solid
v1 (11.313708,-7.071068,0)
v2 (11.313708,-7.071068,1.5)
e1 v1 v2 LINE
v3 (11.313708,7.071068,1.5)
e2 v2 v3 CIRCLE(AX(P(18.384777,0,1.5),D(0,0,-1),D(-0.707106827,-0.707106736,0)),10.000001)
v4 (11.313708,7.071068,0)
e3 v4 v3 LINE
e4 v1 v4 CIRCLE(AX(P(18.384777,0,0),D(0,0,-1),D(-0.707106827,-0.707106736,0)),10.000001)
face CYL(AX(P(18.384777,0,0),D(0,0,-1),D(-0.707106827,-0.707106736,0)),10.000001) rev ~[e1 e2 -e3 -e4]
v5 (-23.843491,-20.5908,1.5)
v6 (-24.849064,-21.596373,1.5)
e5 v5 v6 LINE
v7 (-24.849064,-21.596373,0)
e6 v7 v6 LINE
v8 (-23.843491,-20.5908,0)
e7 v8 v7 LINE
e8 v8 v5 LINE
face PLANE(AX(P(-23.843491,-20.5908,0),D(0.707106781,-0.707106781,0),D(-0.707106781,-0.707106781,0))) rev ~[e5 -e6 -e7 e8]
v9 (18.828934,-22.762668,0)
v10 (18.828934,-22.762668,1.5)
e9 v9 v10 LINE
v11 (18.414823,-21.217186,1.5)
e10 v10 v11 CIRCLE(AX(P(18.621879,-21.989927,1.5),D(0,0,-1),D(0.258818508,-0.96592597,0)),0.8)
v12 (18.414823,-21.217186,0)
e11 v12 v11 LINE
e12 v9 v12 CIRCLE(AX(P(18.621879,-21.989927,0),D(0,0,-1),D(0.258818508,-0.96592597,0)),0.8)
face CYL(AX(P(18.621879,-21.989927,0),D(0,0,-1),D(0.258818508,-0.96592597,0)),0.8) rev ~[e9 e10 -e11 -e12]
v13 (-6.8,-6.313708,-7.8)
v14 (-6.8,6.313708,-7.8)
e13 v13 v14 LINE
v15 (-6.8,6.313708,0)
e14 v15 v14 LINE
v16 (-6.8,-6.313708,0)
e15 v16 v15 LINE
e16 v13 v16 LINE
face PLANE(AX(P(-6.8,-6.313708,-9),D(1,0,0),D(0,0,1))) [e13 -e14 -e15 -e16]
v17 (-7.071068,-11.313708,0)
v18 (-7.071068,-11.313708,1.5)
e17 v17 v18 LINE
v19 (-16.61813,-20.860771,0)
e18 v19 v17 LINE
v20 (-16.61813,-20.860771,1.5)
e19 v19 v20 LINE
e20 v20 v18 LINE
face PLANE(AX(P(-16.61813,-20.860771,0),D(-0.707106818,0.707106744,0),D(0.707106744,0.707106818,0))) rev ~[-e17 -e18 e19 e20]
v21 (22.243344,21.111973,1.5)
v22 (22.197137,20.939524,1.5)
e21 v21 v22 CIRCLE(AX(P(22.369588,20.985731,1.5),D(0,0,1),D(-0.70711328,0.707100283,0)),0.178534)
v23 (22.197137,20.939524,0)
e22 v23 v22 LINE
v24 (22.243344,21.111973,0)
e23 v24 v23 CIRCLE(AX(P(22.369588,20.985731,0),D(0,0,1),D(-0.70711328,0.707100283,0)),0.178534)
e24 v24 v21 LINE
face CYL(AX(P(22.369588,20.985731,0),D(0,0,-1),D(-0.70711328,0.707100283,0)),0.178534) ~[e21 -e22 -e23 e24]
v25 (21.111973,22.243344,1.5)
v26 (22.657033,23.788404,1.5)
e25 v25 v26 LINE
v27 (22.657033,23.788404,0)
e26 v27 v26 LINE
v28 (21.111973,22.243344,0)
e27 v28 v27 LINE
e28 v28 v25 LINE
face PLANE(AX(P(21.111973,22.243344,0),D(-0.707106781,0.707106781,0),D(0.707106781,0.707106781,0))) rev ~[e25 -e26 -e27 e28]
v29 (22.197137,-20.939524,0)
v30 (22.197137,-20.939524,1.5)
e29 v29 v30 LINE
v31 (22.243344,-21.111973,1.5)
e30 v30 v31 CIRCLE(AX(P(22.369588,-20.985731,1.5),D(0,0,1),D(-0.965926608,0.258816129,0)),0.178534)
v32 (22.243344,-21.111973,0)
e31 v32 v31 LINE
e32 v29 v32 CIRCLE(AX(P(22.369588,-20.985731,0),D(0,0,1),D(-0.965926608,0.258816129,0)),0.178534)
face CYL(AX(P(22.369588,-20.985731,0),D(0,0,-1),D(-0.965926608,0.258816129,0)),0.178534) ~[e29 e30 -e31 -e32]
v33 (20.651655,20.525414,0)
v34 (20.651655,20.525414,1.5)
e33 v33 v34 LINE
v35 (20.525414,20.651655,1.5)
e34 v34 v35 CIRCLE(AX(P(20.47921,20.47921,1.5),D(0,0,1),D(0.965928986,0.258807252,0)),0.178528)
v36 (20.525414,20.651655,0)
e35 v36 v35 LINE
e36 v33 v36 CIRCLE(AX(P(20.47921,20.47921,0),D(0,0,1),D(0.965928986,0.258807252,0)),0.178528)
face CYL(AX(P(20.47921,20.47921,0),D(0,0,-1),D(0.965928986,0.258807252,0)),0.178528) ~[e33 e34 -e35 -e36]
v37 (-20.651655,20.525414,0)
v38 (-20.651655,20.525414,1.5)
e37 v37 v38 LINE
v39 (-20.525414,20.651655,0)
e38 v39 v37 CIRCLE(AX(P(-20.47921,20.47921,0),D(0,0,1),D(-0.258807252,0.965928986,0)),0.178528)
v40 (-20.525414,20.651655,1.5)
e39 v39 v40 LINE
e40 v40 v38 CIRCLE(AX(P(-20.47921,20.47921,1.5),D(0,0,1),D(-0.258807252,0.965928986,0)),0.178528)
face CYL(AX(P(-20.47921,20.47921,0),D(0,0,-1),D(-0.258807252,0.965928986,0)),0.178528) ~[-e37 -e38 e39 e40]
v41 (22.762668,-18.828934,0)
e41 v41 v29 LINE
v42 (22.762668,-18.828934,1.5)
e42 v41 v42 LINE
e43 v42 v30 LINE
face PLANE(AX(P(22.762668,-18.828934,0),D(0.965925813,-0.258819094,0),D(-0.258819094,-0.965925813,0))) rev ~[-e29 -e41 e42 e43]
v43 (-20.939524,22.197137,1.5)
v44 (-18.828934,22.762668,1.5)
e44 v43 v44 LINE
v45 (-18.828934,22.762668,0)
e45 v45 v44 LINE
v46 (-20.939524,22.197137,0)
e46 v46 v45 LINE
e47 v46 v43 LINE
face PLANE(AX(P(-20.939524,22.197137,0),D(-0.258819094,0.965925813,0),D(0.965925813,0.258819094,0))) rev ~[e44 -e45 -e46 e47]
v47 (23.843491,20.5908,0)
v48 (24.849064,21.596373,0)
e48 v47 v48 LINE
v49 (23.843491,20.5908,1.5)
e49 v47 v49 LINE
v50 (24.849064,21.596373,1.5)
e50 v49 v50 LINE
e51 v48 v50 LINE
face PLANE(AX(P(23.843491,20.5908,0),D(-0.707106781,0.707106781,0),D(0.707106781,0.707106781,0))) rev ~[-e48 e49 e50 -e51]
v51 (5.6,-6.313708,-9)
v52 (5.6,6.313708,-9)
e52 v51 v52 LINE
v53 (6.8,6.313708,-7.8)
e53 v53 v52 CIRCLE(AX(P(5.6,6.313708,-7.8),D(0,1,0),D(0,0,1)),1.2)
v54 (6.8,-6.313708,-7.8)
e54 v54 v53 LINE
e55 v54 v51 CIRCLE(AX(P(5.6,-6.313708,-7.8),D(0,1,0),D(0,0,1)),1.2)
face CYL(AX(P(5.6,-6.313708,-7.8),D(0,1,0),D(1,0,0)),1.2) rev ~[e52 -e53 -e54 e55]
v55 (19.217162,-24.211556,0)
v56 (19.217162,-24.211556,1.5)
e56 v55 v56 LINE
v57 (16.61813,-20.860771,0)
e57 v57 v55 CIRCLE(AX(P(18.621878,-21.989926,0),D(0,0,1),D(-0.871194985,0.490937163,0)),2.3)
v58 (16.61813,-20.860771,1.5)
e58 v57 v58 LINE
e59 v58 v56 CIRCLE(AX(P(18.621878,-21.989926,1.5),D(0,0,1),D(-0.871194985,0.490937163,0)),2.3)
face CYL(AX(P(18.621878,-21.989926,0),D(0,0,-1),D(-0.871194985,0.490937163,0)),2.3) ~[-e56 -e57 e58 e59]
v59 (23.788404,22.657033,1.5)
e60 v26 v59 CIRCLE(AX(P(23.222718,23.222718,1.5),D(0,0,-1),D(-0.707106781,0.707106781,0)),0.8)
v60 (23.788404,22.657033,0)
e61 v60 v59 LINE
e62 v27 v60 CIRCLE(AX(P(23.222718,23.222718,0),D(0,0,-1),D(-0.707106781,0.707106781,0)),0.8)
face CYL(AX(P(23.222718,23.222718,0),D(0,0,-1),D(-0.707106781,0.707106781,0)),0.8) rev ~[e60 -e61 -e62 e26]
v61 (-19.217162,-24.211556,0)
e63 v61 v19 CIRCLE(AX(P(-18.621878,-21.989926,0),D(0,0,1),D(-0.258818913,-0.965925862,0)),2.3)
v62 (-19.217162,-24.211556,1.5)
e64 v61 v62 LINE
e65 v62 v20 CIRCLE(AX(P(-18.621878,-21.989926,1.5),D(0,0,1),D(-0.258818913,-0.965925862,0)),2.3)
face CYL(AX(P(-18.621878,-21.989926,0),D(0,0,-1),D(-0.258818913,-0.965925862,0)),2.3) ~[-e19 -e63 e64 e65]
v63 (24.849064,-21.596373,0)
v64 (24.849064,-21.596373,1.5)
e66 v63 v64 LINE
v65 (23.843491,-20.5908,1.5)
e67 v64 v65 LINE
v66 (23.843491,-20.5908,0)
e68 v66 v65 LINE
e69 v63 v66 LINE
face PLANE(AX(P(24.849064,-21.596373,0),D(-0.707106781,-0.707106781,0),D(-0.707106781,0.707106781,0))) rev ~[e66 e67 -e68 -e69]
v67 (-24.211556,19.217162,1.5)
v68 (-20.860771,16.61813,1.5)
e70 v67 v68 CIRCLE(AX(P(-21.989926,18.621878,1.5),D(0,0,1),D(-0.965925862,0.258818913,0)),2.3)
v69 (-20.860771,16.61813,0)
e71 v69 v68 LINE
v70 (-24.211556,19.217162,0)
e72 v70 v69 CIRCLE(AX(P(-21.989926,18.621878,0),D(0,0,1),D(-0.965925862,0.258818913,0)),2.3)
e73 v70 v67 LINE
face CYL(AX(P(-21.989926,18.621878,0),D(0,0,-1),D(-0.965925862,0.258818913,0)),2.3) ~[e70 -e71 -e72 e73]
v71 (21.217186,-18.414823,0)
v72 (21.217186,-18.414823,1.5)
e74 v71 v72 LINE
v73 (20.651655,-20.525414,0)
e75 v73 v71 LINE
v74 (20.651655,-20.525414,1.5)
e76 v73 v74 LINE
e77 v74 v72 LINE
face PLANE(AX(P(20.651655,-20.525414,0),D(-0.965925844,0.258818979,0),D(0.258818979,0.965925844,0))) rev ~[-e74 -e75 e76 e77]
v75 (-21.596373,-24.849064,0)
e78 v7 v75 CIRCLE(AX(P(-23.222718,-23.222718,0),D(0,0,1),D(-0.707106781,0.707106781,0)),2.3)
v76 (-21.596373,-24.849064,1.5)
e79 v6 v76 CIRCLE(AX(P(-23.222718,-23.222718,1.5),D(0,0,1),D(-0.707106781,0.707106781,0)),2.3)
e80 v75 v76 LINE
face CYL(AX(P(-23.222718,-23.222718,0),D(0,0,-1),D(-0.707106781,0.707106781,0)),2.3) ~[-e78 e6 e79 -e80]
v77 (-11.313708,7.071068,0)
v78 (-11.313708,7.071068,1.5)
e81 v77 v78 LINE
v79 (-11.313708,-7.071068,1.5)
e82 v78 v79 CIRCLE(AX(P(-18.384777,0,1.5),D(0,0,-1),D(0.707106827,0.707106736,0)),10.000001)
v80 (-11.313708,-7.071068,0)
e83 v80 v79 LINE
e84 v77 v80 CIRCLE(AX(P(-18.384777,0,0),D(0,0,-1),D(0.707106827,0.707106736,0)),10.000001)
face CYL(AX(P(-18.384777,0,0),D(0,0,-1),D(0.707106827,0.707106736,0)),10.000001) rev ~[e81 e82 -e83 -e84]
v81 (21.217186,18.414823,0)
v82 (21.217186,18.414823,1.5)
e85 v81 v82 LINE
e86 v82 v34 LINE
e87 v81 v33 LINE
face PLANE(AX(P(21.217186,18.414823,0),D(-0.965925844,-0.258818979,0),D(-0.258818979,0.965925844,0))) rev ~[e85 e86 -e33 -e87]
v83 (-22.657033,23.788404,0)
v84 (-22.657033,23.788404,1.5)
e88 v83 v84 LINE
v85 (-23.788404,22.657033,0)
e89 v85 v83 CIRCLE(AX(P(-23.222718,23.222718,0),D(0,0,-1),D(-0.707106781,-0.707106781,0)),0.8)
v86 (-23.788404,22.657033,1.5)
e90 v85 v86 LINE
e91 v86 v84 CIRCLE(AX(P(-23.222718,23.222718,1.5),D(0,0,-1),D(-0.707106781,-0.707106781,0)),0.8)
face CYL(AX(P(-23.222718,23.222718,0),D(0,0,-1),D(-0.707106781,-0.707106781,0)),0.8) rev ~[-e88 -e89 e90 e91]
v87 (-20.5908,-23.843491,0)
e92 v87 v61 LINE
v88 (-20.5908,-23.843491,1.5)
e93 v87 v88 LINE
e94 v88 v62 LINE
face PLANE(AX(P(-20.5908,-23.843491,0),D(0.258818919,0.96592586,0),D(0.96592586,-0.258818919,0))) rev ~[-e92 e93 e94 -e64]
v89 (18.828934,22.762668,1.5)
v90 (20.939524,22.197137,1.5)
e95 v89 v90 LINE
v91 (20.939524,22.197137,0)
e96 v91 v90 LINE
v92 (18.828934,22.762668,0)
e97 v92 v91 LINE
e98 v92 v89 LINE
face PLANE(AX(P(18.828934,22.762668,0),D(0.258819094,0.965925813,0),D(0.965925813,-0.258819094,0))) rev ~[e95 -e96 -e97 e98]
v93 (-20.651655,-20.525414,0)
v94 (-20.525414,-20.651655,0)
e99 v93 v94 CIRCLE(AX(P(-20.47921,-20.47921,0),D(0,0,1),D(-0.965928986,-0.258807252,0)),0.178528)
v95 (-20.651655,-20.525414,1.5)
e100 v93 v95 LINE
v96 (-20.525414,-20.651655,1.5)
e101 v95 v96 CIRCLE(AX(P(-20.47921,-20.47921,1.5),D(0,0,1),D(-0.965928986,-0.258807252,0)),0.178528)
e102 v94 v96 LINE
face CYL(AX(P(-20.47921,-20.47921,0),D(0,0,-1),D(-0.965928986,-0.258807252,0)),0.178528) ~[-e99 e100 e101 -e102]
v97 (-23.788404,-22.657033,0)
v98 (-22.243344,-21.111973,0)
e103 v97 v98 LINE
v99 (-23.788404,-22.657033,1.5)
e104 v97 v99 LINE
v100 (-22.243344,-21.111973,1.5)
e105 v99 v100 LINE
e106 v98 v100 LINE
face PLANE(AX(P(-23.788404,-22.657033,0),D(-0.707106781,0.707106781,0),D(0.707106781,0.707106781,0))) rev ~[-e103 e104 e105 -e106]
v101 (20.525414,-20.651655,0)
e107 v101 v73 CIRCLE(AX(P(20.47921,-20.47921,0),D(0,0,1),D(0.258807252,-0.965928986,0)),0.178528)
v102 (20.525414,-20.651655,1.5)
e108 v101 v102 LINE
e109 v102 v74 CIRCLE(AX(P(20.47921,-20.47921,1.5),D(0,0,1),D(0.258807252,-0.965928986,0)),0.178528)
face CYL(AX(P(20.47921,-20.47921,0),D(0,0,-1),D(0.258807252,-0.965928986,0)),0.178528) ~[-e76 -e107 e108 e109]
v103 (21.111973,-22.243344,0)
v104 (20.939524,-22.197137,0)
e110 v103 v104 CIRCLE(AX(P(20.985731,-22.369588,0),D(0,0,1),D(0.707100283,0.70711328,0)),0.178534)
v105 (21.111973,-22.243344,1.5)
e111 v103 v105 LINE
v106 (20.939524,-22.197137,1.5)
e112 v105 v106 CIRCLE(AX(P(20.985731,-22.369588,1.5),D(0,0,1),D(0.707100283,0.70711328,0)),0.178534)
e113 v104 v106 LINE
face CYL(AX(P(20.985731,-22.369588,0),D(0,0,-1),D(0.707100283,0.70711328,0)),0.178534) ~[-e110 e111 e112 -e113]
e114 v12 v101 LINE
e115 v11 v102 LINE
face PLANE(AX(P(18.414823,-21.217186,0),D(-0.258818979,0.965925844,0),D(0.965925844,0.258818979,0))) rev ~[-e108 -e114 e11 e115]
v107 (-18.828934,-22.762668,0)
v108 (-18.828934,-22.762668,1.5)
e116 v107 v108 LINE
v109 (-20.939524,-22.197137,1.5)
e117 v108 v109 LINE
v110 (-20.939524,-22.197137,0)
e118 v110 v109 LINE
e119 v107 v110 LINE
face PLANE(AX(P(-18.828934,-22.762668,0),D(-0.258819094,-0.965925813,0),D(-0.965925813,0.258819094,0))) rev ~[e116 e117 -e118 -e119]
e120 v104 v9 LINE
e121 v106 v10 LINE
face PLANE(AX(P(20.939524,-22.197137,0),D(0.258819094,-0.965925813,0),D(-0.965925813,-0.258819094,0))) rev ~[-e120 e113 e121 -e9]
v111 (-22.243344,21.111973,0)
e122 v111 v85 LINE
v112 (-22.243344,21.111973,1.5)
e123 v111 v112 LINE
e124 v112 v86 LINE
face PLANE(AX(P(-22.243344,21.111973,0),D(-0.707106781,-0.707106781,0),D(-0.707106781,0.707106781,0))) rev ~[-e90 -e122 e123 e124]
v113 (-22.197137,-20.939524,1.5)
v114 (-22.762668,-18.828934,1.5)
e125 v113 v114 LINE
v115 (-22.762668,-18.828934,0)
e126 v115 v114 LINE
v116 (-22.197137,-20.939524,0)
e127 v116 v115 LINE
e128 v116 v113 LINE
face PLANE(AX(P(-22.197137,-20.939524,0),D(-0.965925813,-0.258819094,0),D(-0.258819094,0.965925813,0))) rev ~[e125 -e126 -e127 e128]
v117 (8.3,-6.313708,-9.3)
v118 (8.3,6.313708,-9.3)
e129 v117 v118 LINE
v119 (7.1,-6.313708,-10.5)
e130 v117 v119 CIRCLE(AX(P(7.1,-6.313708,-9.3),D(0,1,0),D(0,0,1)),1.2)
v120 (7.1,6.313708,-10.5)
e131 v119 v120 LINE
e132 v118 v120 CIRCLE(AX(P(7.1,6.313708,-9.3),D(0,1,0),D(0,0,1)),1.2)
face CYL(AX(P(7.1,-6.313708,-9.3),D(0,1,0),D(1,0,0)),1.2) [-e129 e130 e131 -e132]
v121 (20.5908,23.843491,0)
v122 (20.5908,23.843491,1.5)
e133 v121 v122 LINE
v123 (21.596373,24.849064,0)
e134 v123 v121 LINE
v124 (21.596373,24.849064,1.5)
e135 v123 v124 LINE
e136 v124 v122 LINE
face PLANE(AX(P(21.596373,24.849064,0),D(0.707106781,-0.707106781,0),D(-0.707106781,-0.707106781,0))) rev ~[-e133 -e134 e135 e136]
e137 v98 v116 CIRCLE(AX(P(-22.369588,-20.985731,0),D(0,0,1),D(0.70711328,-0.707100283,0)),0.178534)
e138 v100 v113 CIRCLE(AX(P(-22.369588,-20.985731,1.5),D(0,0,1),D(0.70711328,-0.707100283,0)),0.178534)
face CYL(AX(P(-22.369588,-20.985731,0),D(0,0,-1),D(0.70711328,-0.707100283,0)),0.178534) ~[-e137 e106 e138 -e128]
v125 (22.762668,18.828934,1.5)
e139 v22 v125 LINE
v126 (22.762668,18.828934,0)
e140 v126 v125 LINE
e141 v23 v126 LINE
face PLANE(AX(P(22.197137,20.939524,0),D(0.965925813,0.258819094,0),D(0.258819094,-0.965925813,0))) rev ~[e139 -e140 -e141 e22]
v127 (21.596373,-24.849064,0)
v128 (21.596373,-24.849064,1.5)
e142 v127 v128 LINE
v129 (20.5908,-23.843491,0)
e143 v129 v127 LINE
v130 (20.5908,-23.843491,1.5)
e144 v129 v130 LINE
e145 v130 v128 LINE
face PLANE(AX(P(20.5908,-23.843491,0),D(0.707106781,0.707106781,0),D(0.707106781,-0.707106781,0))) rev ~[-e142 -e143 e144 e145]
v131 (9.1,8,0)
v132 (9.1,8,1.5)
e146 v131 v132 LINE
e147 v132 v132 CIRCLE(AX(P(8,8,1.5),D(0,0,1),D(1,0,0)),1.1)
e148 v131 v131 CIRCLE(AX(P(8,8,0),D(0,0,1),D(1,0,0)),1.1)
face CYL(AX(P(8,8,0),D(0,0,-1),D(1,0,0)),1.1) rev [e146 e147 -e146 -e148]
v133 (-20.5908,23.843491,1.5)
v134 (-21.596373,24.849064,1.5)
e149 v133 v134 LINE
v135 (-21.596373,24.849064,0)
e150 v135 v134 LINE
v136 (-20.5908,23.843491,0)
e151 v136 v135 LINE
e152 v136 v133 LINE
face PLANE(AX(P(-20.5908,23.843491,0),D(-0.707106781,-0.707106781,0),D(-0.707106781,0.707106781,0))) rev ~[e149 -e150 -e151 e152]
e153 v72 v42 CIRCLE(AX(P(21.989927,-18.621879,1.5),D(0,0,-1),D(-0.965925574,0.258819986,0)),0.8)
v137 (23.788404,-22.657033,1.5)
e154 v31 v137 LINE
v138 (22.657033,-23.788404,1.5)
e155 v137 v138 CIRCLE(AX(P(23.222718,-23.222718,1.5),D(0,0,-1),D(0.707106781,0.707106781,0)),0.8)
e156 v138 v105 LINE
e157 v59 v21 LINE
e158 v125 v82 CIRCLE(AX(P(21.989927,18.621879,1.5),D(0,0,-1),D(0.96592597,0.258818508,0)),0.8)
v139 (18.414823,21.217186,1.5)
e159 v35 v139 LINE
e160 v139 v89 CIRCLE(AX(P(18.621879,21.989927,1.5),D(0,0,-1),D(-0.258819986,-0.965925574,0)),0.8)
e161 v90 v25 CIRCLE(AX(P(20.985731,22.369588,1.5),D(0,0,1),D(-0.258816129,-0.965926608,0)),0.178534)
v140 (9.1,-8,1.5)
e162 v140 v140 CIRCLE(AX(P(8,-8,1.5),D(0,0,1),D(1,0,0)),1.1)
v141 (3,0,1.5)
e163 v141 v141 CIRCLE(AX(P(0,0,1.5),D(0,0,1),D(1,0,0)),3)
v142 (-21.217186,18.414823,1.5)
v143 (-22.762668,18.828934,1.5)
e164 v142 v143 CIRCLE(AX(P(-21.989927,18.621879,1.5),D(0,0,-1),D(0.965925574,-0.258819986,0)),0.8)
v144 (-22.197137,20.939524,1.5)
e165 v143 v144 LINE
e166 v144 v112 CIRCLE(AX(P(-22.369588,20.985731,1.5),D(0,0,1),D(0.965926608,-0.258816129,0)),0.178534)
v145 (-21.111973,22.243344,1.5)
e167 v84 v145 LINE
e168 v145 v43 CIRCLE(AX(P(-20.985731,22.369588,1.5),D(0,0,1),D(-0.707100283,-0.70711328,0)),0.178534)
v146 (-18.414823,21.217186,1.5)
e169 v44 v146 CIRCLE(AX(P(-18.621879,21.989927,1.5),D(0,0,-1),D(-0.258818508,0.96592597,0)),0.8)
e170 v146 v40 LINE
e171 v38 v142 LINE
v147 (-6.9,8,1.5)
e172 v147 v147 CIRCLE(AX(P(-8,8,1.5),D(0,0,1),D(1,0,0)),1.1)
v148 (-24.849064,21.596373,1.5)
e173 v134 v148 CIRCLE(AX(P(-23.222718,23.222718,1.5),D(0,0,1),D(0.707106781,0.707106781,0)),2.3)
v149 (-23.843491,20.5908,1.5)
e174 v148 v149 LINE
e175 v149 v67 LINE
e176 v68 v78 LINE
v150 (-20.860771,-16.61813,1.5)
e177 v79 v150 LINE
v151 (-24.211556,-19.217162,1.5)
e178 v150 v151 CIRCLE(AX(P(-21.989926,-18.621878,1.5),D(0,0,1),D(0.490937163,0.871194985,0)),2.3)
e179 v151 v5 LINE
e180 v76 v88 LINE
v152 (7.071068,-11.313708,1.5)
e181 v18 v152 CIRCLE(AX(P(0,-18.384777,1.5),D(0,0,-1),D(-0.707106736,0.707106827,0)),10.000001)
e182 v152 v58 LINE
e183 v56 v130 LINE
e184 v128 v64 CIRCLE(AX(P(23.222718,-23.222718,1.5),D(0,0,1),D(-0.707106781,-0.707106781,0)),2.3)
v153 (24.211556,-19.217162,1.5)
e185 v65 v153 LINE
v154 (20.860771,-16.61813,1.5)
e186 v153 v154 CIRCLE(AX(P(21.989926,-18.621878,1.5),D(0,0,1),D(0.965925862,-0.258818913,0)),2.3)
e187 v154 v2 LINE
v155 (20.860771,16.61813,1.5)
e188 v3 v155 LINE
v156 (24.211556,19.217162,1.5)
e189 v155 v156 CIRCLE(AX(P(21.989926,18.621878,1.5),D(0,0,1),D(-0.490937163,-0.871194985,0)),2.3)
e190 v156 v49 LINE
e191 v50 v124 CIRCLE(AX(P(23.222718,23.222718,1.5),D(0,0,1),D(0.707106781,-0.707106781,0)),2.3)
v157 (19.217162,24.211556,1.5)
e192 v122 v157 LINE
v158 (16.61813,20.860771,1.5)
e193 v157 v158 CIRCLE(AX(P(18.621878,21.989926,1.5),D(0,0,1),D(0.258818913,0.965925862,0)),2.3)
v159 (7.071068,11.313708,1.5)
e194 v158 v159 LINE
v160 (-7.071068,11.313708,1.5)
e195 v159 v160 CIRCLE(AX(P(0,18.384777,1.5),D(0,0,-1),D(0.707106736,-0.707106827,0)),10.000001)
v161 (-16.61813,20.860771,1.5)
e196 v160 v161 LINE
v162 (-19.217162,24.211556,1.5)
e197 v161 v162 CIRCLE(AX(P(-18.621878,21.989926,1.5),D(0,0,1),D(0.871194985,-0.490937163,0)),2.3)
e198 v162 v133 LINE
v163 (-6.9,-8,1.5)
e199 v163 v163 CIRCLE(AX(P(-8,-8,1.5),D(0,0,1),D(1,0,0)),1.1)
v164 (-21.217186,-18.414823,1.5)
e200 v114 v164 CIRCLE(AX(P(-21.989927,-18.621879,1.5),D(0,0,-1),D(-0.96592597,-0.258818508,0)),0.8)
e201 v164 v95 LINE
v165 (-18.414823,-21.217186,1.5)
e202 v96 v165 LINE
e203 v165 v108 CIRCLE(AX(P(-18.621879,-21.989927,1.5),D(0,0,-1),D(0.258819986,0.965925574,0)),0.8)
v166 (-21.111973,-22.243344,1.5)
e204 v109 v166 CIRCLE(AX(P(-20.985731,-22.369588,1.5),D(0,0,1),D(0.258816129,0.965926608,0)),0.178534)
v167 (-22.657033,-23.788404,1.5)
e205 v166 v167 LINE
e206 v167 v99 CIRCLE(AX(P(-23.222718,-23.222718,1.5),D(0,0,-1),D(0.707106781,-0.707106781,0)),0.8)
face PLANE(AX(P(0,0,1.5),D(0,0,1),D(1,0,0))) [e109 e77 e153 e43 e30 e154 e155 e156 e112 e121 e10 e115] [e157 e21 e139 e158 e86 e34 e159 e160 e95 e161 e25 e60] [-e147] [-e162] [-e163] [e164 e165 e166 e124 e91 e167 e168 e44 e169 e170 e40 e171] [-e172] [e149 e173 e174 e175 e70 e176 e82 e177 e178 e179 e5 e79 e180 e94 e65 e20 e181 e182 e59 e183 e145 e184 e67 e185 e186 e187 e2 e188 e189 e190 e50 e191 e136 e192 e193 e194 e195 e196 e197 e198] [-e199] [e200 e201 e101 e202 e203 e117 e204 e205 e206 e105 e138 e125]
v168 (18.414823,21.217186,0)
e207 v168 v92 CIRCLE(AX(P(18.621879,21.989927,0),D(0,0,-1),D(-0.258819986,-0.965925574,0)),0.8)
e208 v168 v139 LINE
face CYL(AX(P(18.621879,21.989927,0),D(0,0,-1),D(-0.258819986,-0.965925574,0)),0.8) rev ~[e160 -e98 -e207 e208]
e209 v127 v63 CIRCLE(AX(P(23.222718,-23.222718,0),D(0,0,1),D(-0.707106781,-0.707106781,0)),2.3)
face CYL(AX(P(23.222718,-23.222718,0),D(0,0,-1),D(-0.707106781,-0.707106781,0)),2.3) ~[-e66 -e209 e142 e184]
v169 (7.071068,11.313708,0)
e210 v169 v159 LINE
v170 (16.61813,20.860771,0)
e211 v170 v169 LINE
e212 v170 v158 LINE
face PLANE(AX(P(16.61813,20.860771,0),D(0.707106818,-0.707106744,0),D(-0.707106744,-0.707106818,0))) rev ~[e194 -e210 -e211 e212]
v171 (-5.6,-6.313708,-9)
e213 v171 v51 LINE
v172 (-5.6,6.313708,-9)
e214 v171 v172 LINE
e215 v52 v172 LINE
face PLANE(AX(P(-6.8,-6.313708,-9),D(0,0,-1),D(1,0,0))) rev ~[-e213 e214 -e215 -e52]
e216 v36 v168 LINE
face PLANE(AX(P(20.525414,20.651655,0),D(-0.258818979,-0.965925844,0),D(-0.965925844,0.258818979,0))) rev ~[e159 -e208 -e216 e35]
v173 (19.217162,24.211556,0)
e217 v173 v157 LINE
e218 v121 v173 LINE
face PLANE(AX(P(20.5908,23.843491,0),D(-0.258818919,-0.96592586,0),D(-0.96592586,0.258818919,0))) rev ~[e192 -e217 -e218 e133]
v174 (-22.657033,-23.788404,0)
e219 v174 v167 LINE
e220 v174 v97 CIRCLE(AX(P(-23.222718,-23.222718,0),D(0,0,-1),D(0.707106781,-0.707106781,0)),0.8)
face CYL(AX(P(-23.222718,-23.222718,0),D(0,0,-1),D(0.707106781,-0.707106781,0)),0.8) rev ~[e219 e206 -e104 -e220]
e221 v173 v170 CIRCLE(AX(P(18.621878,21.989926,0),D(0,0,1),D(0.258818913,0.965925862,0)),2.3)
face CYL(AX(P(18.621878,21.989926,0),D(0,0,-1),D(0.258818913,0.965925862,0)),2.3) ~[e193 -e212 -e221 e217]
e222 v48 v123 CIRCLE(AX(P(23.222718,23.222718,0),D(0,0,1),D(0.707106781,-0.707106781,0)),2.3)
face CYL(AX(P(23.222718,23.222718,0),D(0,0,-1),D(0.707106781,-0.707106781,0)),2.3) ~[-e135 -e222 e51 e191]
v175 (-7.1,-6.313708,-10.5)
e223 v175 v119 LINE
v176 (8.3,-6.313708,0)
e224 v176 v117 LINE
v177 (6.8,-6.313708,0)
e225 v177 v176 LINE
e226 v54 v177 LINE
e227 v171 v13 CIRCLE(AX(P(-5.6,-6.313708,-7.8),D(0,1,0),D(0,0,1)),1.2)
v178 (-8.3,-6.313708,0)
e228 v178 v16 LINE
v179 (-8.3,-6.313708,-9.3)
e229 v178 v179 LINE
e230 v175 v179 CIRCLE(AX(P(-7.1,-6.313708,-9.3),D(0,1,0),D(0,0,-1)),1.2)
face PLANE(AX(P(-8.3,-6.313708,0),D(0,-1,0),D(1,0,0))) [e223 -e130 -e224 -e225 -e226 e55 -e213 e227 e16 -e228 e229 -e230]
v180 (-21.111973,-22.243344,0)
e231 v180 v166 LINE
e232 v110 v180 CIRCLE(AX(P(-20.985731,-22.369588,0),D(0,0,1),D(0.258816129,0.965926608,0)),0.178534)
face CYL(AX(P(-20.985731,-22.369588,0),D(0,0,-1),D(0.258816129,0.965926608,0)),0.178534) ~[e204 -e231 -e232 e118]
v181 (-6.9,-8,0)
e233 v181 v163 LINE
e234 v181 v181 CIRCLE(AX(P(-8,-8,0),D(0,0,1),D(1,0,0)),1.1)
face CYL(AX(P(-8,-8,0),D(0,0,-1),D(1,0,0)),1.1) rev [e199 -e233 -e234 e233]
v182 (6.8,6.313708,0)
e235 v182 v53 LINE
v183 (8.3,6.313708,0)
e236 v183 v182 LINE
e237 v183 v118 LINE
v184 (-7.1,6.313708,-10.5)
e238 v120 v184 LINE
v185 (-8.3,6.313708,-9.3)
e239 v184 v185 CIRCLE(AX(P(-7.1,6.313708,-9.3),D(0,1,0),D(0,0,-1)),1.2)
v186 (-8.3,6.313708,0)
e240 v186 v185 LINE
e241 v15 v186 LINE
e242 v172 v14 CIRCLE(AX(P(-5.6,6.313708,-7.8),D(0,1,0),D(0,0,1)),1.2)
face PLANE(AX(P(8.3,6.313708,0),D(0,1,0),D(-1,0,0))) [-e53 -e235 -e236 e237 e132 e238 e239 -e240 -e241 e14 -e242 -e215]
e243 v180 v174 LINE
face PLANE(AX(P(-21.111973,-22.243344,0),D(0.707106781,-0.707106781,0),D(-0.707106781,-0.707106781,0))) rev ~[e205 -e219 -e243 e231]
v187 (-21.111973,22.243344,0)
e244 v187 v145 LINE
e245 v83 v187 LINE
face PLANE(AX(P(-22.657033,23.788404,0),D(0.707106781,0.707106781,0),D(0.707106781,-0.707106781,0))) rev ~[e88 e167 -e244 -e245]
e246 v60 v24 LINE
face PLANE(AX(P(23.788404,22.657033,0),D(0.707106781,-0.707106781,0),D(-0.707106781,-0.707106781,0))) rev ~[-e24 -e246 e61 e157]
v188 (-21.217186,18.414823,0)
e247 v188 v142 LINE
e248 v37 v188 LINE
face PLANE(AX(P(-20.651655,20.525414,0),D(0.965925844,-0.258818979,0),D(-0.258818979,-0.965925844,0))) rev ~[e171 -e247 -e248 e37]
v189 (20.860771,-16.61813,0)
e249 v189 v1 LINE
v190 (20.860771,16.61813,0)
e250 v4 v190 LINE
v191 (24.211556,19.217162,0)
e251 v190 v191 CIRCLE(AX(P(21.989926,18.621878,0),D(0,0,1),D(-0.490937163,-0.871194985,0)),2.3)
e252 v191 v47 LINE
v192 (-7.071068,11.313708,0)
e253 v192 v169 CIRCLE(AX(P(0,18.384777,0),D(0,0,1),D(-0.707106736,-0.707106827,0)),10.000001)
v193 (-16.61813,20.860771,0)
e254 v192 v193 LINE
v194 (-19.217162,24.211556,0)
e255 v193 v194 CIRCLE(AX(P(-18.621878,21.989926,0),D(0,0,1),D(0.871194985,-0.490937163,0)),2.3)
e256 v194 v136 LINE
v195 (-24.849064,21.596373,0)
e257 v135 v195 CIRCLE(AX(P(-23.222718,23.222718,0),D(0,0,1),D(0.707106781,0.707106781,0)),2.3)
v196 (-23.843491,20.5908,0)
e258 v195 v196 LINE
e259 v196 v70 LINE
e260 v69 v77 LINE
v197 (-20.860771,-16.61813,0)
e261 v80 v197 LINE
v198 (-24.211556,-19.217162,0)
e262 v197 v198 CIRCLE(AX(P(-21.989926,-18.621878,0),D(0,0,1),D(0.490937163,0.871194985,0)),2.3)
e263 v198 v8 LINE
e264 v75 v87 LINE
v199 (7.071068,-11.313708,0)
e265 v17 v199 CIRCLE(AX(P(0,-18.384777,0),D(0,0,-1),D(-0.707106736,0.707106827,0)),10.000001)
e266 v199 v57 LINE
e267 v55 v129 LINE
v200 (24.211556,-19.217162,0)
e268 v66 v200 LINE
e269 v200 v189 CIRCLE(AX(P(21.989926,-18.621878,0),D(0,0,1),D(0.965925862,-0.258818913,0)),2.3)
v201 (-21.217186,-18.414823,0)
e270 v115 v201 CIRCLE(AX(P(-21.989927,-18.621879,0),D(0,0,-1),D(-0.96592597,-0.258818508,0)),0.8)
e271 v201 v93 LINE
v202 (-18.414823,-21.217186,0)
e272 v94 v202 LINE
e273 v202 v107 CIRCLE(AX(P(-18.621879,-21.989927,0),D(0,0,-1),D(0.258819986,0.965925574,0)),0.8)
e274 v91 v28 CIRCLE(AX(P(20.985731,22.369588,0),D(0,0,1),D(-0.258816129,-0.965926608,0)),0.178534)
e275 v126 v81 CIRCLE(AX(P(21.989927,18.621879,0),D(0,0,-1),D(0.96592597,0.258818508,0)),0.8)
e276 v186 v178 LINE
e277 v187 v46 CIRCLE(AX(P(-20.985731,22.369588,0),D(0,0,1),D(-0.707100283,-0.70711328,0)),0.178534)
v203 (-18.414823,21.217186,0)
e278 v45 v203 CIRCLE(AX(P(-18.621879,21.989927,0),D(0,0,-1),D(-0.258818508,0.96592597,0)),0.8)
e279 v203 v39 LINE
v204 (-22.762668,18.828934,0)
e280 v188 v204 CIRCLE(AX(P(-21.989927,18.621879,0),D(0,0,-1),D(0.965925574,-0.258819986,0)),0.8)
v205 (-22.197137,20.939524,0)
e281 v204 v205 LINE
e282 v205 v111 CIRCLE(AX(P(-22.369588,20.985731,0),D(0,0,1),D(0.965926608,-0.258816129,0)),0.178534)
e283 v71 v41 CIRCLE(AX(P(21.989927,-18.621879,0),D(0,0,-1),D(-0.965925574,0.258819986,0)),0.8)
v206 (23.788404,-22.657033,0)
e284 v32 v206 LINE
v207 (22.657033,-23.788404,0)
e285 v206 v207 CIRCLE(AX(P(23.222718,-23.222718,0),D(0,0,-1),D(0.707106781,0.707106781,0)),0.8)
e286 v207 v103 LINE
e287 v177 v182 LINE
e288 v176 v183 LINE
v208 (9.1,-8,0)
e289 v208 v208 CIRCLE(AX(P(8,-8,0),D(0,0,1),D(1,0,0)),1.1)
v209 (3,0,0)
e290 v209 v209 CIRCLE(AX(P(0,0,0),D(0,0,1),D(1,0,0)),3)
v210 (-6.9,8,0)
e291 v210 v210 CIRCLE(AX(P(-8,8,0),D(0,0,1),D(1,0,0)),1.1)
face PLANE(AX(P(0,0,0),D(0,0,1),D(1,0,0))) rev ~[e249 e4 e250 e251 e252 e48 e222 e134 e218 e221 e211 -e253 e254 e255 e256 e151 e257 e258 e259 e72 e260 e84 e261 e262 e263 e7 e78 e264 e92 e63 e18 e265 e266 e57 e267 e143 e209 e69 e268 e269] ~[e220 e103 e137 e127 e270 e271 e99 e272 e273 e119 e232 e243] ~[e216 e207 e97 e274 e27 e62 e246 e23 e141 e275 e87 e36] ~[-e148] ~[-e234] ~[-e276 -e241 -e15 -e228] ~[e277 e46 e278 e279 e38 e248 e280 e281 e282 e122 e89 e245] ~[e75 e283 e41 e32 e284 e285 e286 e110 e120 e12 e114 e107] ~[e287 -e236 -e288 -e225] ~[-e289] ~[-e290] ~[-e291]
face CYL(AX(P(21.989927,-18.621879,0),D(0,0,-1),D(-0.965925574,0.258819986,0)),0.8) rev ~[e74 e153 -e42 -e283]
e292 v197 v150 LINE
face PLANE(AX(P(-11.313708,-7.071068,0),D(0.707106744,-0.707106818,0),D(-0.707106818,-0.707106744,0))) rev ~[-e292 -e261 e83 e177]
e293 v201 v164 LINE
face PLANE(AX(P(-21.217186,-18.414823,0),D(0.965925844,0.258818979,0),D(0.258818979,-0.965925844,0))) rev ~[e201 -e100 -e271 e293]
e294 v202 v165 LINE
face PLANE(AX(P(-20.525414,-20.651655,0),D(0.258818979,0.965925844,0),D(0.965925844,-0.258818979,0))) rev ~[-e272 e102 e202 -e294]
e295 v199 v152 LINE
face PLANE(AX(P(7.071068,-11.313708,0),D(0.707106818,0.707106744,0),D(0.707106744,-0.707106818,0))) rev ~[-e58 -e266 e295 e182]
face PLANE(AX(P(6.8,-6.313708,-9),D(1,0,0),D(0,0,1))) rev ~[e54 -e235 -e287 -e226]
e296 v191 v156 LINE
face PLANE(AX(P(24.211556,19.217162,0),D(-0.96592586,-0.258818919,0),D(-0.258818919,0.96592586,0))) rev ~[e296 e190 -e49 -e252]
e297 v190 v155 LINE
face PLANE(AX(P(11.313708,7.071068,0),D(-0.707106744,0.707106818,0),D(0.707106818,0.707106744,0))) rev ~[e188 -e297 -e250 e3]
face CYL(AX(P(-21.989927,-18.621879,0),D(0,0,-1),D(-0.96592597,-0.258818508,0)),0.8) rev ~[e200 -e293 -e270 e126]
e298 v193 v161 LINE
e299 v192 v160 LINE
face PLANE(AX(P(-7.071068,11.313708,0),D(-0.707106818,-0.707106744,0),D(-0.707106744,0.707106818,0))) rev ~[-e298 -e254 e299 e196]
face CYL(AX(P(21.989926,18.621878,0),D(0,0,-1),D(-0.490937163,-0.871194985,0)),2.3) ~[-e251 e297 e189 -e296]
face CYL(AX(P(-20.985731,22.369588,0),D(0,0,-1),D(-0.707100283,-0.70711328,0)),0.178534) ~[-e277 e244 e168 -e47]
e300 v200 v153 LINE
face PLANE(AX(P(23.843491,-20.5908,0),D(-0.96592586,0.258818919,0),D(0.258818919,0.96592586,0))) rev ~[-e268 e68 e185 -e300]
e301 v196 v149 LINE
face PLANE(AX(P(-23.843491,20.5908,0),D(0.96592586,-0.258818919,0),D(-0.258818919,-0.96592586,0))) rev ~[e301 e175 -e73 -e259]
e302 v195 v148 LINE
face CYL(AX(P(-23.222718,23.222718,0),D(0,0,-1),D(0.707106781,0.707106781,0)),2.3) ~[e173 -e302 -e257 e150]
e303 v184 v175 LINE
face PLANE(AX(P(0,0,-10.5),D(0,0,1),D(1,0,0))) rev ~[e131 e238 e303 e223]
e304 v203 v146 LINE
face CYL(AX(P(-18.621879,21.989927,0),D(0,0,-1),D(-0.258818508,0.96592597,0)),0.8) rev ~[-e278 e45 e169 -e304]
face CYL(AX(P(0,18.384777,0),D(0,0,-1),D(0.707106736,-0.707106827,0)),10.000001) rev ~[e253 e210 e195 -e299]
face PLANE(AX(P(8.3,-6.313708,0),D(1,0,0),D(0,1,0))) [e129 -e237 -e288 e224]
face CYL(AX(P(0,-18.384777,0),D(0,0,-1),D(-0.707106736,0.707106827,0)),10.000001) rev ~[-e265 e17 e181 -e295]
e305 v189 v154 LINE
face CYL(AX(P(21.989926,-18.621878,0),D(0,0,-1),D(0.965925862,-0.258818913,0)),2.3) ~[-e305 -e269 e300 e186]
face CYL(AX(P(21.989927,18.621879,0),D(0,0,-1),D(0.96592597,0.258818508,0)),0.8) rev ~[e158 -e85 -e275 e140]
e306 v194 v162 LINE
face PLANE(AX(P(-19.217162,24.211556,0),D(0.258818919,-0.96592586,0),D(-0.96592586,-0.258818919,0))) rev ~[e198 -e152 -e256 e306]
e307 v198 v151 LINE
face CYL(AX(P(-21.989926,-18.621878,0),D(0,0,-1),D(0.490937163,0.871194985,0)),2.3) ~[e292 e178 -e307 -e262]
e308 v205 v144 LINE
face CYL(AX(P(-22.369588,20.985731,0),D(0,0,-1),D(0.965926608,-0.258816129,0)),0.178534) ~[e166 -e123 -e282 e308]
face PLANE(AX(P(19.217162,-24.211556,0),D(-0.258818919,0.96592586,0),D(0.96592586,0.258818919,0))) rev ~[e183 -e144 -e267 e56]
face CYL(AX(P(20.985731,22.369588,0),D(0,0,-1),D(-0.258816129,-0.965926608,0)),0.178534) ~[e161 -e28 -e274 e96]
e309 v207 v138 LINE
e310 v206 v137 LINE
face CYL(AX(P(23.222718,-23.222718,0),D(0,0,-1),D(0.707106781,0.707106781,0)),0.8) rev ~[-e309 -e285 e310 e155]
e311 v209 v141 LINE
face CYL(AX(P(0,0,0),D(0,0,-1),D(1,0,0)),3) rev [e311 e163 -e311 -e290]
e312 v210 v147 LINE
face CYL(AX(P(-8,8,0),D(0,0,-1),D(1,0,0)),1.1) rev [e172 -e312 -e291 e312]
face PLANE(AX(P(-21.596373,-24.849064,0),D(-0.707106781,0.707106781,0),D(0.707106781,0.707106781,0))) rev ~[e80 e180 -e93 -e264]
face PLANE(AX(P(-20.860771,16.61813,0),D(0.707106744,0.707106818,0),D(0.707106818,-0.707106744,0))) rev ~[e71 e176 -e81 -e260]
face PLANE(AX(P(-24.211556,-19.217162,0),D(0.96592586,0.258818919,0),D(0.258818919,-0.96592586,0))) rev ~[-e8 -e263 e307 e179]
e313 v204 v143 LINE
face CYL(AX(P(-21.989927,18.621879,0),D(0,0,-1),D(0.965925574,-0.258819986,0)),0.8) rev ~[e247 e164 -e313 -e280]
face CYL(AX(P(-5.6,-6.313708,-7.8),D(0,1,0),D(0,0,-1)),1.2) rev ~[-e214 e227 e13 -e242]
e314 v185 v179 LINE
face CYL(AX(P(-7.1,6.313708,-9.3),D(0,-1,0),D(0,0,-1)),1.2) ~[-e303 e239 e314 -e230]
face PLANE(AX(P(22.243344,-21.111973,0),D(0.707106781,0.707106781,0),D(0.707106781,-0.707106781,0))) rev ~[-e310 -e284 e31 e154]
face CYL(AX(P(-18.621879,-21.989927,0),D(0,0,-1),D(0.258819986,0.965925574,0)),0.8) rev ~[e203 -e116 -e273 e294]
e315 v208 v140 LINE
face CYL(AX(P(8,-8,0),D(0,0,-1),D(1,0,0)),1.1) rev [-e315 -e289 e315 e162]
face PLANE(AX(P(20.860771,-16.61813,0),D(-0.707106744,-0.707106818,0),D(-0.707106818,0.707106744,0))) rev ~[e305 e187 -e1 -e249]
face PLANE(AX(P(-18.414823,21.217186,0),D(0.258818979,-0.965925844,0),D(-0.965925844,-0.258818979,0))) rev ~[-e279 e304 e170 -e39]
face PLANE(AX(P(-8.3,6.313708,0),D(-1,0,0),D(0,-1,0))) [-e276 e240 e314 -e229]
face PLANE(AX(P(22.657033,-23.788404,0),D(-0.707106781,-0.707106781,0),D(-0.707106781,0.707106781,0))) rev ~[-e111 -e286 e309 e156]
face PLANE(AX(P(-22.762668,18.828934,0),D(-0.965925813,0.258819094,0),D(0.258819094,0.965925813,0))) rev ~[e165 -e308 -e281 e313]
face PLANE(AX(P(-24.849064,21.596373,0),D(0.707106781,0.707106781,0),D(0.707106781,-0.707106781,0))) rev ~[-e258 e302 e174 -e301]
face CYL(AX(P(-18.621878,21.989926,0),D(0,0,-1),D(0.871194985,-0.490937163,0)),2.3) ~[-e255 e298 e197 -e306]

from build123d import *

# Parameters (mm, degrees)
F0_R     = 3
F1_DEPTH = 10.5
F2_R     = 1.1
F3_DEPTH = 1.5
F4_W     = 13.6
F4_H     = 9
F5_DEPTH = 25
F6_R     = 1.2


with BuildPart() as f1:
    # F0 (on Top) → F1 (new body)
    with BuildSketch(Plane.XY):
        Polygon((7, 6.313708), (-7, 6.313708), (-8.3, 6.313708), (-8.3, -6.313708), (-7, -6.313708), (7, -6.313708), (8.3, -6.313708), (8.3, 6.313708), align=None)
        Circle(F0_R, mode=Mode.SUBTRACT)
        Circle(F0_R)
    extrude(amount=-F1_DEPTH)

    # F2 (on face) + F0 (on Top) → F3 (join)
    with BuildSketch(Plane.XY):
        with BuildLine():
            ThreePointArc((-20.860771, -16.61813), (-23.399578, -16.804495), (-24.211556, -19.217162))
            Line((-24.211556, -19.217162), (-23.843491, -20.5908))
            Line((-23.843491, -20.5908), (-24.849064, -21.596373))
            ThreePointArc((-24.849064, -21.596373), (-24.849064, -24.849064), (-21.596373, -24.849064))
            Line((-21.596373, -24.849064), (-20.5908, -23.843491))
            Line((-20.5908, -23.843491), (-19.217162, -24.211556))
            ThreePointArc((-19.217162, -24.211556), (-16.804495, -23.399578), (-16.61813, -20.860771))
            Line((-16.61813, -20.860771), (-7.071068, -11.313708))
            ThreePointArc((-7.071068, -11.313708), (0, -8.384776), (7.071068, -11.313708))
            Line((7.071068, -11.313708), (16.61813, -20.860771))
            ThreePointArc((16.61813, -20.860771), (16.804495, -23.399578), (19.217162, -24.211556))
            Line((19.217162, -24.211556), (20.5908, -23.843491))
            Line((20.5908, -23.843491), (21.596373, -24.849064))
            ThreePointArc((21.596373, -24.849064), (24.849064, -24.849064), (24.849064, -21.596373))
            Line((24.849064, -21.596373), (23.843491, -20.5908))
            Line((23.843491, -20.5908), (24.211556, -19.217162))
            ThreePointArc((24.211556, -19.217162), (23.399578, -16.804495), (20.860771, -16.61813))
            Line((20.860771, -16.61813), (11.313708, -7.071068))
            ThreePointArc((11.313708, -7.071068), (8.384776, 0), (11.313708, 7.071068))
            Line((11.313708, 7.071068), (20.860771, 16.61813))
            ThreePointArc((20.860771, 16.61813), (23.399578, 16.804495), (24.211556, 19.217162))
            Line((24.211556, 19.217162), (23.843491, 20.5908))
            Line((23.843491, 20.5908), (24.849064, 21.596373))
            ThreePointArc((24.849064, 21.596373), (24.849064, 24.849064), (21.596373, 24.849064))
            Line((21.596373, 24.849064), (20.5908, 23.843491))
            Line((20.5908, 23.843491), (19.217162, 24.211556))
            ThreePointArc((19.217162, 24.211556), (16.804495, 23.399578), (16.61813, 20.860771))
            Line((16.61813, 20.860771), (7.071068, 11.313708))
            ThreePointArc((7.071068, 11.313708), (0, 8.384776), (-7.071068, 11.313708))
            Line((-7.071068, 11.313708), (-16.61813, 20.860771))
            ThreePointArc((-16.61813, 20.860771), (-16.804495, 23.399578), (-19.217162, 24.211556))
            Line((-19.217162, 24.211556), (-20.5908, 23.843491))
            Line((-20.5908, 23.843491), (-21.596373, 24.849064))
            ThreePointArc((-21.596373, 24.849064), (-24.849064, 24.849064), (-24.849064, 21.596373))
            Line((-24.849064, 21.596373), (-23.843491, 20.5908))
            Line((-23.843491, 20.5908), (-24.211556, 19.217162))
            ThreePointArc((-24.211556, 19.217162), (-23.399578, 16.804495), (-20.860771, 16.61813))
            Line((-20.860771, 16.61813), (-11.313708, 7.071068))
            ThreePointArc((-11.313708, 7.071068), (-8.384776, 0), (-11.313708, -7.071068))
            Line((-11.313708, -7.071068), (-20.860771, -16.61813))
        make_face()
        with BuildLine():
            ThreePointArc((-18.414823, -21.217186), (-17.849138, -22.196982), (-18.828934, -22.762668))
            Line((-18.828934, -22.762668), (-20.939524, -22.197137))
            ThreePointArc((-20.939524, -22.197137), (-21.031939, -22.197137), (-21.111973, -22.243344))
            Line((-21.111973, -22.243344), (-22.657033, -23.788404))
            ThreePointArc((-22.657033, -23.788404), (-23.788404, -23.788404), (-23.788404, -22.657033))
            Line((-23.788404, -22.657033), (-22.243344, -21.111973))
            ThreePointArc((-22.243344, -21.111973), (-22.197137, -21.031939), (-22.197137, -20.939524))
            Line((-22.197137, -20.939524), (-22.762668, -18.828934))
            ThreePointArc((-22.762668, -18.828934), (-22.196982, -17.849138), (-21.217186, -18.414823))
            Line((-21.217186, -18.414823), (-20.651655, -20.525414))
            ThreePointArc((-20.651655, -20.525414), (-20.605448, -20.605448), (-20.525414, -20.651655))
            Line((-20.525414, -20.651655), (-18.414823, -21.217186))
        make_face(mode=Mode.SUBTRACT)
        with Locations((-8, -8)):
            Circle(F2_R, mode=Mode.SUBTRACT)
        with BuildLine():
            Line((22.657033, -23.788404), (21.111973, -22.243344))
            ThreePointArc((21.111973, -22.243344), (21.031939, -22.197137), (20.939524, -22.197137))
            Line((20.939524, -22.197137), (18.828934, -22.762668))
            ThreePointArc((18.828934, -22.762668), (17.849138, -22.196982), (18.414823, -21.217186))
            Line((18.414823, -21.217186), (20.525414, -20.651655))
            ThreePointArc((20.525414, -20.651655), (20.605448, -20.605448), (20.651655, -20.525414))
            Line((20.651655, -20.525414), (21.217186, -18.414823))
            ThreePointArc((21.217186, -18.414823), (22.196982, -17.849138), (22.762668, -18.828934))
            Line((22.762668, -18.828934), (22.197137, -20.939524))
            ThreePointArc((22.197137, -20.939524), (22.197137, -21.031939), (22.243344, -21.111973))
            Line((22.243344, -21.111973), (23.788404, -22.657033))
            ThreePointArc((23.788404, -22.657033), (23.788404, -23.788404), (22.657033, -23.788404))
        make_face(mode=Mode.SUBTRACT)
        with Locations((8, -8)):
            Circle(F2_R, mode=Mode.SUBTRACT)
        with Locations((-8, 8)):
            Circle(F2_R, mode=Mode.SUBTRACT)
        with BuildLine():
            Line((-22.657033, 23.788404), (-21.111973, 22.243344))
            ThreePointArc((-21.111973, 22.243344), (-21.031939, 22.197137), (-20.939524, 22.197137))
            Line((-20.939524, 22.197137), (-18.828934, 22.762668))
            ThreePointArc((-18.828934, 22.762668), (-17.849138, 22.196982), (-18.414823, 21.217186))
            Line((-18.414823, 21.217186), (-20.525414, 20.651655))
            ThreePointArc((-20.525414, 20.651655), (-20.605448, 20.605448), (-20.651655, 20.525414))
            Line((-20.651655, 20.525414), (-21.217186, 18.414823))
            ThreePointArc((-21.217186, 18.414823), (-22.196982, 17.849138), (-22.762668, 18.828934))
            Line((-22.762668, 18.828934), (-22.197137, 20.939524))
            ThreePointArc((-22.197137, 20.939524), (-22.197137, 21.031939), (-22.243344, 21.111973))
            Line((-22.243344, 21.111973), (-23.788404, 22.657033))
            ThreePointArc((-23.788404, 22.657033), (-23.788404, 23.788404), (-22.657033, 23.788404))
        make_face(mode=Mode.SUBTRACT)
        Polygon((-8.3, -6.313708), (-8.3, 6.313708), (-7, 6.313708), (7, 6.313708), (8.3, 6.313708), (8.3, -6.313708), (7, -6.313708), (-7, -6.313708), align=None, mode=Mode.SUBTRACT)
        with Locations((8, 8)):
            Circle(F2_R, mode=Mode.SUBTRACT)
        with BuildLine():
            Line((23.788404, 22.657033), (22.243344, 21.111973))
            ThreePointArc((22.243344, 21.111973), (22.197137, 21.031939), (22.197137, 20.939524))
            Line((22.197137, 20.939524), (22.762668, 18.828934))
            ThreePointArc((22.762668, 18.828934), (22.196982, 17.849138), (21.217186, 18.414823))
            Line((21.217186, 18.414823), (20.651655, 20.525414))
            ThreePointArc((20.651655, 20.525414), (20.605448, 20.605448), (20.525414, 20.651655))
            Line((20.525414, 20.651655), (18.414823, 21.217186))
            ThreePointArc((18.414823, 21.217186), (17.849138, 22.196982), (18.828934, 22.762668))
            Line((18.828934, 22.762668), (20.939524, 22.197137))
            ThreePointArc((20.939524, 22.197137), (21.031939, 22.197137), (21.111973, 22.243344))
            Line((21.111973, 22.243344), (22.657033, 23.788404))
            ThreePointArc((22.657033, 23.788404), (23.788404, 23.788404), (23.788404, 22.657033))
        make_face(mode=Mode.SUBTRACT)
    with BuildSketch(Plane.XY):
        Polygon((7, 6.313708), (-7, 6.313708), (-8.3, 6.313708), (-8.3, -6.313708), (-7, -6.313708), (7, -6.313708), (8.3, -6.313708), (8.3, 6.313708), align=None)
        Circle(F0_R, mode=Mode.SUBTRACT)
    extrude(amount=F3_DEPTH)

    # F4 (on face) → F5 (cut)
    with BuildSketch(Plane.XZ.offset(6.313708)):
        with Locations((0, -4.5)):
            Rectangle(F4_W, F4_H)
    extrude(amount=-F5_DEPTH, mode=Mode.SUBTRACT)

    # F6
    f6_edges = [f1.edges().sort_by_distance(p)[0] for p in [
        (8.3, 0, -10.5),
        (-8.3, 0, -10.5),
        (-6.8, 0, -9),
        (6.8, 0, -9),
    ]]
    fillet(f6_edges, radius=F6_R)


solid = f1.part
